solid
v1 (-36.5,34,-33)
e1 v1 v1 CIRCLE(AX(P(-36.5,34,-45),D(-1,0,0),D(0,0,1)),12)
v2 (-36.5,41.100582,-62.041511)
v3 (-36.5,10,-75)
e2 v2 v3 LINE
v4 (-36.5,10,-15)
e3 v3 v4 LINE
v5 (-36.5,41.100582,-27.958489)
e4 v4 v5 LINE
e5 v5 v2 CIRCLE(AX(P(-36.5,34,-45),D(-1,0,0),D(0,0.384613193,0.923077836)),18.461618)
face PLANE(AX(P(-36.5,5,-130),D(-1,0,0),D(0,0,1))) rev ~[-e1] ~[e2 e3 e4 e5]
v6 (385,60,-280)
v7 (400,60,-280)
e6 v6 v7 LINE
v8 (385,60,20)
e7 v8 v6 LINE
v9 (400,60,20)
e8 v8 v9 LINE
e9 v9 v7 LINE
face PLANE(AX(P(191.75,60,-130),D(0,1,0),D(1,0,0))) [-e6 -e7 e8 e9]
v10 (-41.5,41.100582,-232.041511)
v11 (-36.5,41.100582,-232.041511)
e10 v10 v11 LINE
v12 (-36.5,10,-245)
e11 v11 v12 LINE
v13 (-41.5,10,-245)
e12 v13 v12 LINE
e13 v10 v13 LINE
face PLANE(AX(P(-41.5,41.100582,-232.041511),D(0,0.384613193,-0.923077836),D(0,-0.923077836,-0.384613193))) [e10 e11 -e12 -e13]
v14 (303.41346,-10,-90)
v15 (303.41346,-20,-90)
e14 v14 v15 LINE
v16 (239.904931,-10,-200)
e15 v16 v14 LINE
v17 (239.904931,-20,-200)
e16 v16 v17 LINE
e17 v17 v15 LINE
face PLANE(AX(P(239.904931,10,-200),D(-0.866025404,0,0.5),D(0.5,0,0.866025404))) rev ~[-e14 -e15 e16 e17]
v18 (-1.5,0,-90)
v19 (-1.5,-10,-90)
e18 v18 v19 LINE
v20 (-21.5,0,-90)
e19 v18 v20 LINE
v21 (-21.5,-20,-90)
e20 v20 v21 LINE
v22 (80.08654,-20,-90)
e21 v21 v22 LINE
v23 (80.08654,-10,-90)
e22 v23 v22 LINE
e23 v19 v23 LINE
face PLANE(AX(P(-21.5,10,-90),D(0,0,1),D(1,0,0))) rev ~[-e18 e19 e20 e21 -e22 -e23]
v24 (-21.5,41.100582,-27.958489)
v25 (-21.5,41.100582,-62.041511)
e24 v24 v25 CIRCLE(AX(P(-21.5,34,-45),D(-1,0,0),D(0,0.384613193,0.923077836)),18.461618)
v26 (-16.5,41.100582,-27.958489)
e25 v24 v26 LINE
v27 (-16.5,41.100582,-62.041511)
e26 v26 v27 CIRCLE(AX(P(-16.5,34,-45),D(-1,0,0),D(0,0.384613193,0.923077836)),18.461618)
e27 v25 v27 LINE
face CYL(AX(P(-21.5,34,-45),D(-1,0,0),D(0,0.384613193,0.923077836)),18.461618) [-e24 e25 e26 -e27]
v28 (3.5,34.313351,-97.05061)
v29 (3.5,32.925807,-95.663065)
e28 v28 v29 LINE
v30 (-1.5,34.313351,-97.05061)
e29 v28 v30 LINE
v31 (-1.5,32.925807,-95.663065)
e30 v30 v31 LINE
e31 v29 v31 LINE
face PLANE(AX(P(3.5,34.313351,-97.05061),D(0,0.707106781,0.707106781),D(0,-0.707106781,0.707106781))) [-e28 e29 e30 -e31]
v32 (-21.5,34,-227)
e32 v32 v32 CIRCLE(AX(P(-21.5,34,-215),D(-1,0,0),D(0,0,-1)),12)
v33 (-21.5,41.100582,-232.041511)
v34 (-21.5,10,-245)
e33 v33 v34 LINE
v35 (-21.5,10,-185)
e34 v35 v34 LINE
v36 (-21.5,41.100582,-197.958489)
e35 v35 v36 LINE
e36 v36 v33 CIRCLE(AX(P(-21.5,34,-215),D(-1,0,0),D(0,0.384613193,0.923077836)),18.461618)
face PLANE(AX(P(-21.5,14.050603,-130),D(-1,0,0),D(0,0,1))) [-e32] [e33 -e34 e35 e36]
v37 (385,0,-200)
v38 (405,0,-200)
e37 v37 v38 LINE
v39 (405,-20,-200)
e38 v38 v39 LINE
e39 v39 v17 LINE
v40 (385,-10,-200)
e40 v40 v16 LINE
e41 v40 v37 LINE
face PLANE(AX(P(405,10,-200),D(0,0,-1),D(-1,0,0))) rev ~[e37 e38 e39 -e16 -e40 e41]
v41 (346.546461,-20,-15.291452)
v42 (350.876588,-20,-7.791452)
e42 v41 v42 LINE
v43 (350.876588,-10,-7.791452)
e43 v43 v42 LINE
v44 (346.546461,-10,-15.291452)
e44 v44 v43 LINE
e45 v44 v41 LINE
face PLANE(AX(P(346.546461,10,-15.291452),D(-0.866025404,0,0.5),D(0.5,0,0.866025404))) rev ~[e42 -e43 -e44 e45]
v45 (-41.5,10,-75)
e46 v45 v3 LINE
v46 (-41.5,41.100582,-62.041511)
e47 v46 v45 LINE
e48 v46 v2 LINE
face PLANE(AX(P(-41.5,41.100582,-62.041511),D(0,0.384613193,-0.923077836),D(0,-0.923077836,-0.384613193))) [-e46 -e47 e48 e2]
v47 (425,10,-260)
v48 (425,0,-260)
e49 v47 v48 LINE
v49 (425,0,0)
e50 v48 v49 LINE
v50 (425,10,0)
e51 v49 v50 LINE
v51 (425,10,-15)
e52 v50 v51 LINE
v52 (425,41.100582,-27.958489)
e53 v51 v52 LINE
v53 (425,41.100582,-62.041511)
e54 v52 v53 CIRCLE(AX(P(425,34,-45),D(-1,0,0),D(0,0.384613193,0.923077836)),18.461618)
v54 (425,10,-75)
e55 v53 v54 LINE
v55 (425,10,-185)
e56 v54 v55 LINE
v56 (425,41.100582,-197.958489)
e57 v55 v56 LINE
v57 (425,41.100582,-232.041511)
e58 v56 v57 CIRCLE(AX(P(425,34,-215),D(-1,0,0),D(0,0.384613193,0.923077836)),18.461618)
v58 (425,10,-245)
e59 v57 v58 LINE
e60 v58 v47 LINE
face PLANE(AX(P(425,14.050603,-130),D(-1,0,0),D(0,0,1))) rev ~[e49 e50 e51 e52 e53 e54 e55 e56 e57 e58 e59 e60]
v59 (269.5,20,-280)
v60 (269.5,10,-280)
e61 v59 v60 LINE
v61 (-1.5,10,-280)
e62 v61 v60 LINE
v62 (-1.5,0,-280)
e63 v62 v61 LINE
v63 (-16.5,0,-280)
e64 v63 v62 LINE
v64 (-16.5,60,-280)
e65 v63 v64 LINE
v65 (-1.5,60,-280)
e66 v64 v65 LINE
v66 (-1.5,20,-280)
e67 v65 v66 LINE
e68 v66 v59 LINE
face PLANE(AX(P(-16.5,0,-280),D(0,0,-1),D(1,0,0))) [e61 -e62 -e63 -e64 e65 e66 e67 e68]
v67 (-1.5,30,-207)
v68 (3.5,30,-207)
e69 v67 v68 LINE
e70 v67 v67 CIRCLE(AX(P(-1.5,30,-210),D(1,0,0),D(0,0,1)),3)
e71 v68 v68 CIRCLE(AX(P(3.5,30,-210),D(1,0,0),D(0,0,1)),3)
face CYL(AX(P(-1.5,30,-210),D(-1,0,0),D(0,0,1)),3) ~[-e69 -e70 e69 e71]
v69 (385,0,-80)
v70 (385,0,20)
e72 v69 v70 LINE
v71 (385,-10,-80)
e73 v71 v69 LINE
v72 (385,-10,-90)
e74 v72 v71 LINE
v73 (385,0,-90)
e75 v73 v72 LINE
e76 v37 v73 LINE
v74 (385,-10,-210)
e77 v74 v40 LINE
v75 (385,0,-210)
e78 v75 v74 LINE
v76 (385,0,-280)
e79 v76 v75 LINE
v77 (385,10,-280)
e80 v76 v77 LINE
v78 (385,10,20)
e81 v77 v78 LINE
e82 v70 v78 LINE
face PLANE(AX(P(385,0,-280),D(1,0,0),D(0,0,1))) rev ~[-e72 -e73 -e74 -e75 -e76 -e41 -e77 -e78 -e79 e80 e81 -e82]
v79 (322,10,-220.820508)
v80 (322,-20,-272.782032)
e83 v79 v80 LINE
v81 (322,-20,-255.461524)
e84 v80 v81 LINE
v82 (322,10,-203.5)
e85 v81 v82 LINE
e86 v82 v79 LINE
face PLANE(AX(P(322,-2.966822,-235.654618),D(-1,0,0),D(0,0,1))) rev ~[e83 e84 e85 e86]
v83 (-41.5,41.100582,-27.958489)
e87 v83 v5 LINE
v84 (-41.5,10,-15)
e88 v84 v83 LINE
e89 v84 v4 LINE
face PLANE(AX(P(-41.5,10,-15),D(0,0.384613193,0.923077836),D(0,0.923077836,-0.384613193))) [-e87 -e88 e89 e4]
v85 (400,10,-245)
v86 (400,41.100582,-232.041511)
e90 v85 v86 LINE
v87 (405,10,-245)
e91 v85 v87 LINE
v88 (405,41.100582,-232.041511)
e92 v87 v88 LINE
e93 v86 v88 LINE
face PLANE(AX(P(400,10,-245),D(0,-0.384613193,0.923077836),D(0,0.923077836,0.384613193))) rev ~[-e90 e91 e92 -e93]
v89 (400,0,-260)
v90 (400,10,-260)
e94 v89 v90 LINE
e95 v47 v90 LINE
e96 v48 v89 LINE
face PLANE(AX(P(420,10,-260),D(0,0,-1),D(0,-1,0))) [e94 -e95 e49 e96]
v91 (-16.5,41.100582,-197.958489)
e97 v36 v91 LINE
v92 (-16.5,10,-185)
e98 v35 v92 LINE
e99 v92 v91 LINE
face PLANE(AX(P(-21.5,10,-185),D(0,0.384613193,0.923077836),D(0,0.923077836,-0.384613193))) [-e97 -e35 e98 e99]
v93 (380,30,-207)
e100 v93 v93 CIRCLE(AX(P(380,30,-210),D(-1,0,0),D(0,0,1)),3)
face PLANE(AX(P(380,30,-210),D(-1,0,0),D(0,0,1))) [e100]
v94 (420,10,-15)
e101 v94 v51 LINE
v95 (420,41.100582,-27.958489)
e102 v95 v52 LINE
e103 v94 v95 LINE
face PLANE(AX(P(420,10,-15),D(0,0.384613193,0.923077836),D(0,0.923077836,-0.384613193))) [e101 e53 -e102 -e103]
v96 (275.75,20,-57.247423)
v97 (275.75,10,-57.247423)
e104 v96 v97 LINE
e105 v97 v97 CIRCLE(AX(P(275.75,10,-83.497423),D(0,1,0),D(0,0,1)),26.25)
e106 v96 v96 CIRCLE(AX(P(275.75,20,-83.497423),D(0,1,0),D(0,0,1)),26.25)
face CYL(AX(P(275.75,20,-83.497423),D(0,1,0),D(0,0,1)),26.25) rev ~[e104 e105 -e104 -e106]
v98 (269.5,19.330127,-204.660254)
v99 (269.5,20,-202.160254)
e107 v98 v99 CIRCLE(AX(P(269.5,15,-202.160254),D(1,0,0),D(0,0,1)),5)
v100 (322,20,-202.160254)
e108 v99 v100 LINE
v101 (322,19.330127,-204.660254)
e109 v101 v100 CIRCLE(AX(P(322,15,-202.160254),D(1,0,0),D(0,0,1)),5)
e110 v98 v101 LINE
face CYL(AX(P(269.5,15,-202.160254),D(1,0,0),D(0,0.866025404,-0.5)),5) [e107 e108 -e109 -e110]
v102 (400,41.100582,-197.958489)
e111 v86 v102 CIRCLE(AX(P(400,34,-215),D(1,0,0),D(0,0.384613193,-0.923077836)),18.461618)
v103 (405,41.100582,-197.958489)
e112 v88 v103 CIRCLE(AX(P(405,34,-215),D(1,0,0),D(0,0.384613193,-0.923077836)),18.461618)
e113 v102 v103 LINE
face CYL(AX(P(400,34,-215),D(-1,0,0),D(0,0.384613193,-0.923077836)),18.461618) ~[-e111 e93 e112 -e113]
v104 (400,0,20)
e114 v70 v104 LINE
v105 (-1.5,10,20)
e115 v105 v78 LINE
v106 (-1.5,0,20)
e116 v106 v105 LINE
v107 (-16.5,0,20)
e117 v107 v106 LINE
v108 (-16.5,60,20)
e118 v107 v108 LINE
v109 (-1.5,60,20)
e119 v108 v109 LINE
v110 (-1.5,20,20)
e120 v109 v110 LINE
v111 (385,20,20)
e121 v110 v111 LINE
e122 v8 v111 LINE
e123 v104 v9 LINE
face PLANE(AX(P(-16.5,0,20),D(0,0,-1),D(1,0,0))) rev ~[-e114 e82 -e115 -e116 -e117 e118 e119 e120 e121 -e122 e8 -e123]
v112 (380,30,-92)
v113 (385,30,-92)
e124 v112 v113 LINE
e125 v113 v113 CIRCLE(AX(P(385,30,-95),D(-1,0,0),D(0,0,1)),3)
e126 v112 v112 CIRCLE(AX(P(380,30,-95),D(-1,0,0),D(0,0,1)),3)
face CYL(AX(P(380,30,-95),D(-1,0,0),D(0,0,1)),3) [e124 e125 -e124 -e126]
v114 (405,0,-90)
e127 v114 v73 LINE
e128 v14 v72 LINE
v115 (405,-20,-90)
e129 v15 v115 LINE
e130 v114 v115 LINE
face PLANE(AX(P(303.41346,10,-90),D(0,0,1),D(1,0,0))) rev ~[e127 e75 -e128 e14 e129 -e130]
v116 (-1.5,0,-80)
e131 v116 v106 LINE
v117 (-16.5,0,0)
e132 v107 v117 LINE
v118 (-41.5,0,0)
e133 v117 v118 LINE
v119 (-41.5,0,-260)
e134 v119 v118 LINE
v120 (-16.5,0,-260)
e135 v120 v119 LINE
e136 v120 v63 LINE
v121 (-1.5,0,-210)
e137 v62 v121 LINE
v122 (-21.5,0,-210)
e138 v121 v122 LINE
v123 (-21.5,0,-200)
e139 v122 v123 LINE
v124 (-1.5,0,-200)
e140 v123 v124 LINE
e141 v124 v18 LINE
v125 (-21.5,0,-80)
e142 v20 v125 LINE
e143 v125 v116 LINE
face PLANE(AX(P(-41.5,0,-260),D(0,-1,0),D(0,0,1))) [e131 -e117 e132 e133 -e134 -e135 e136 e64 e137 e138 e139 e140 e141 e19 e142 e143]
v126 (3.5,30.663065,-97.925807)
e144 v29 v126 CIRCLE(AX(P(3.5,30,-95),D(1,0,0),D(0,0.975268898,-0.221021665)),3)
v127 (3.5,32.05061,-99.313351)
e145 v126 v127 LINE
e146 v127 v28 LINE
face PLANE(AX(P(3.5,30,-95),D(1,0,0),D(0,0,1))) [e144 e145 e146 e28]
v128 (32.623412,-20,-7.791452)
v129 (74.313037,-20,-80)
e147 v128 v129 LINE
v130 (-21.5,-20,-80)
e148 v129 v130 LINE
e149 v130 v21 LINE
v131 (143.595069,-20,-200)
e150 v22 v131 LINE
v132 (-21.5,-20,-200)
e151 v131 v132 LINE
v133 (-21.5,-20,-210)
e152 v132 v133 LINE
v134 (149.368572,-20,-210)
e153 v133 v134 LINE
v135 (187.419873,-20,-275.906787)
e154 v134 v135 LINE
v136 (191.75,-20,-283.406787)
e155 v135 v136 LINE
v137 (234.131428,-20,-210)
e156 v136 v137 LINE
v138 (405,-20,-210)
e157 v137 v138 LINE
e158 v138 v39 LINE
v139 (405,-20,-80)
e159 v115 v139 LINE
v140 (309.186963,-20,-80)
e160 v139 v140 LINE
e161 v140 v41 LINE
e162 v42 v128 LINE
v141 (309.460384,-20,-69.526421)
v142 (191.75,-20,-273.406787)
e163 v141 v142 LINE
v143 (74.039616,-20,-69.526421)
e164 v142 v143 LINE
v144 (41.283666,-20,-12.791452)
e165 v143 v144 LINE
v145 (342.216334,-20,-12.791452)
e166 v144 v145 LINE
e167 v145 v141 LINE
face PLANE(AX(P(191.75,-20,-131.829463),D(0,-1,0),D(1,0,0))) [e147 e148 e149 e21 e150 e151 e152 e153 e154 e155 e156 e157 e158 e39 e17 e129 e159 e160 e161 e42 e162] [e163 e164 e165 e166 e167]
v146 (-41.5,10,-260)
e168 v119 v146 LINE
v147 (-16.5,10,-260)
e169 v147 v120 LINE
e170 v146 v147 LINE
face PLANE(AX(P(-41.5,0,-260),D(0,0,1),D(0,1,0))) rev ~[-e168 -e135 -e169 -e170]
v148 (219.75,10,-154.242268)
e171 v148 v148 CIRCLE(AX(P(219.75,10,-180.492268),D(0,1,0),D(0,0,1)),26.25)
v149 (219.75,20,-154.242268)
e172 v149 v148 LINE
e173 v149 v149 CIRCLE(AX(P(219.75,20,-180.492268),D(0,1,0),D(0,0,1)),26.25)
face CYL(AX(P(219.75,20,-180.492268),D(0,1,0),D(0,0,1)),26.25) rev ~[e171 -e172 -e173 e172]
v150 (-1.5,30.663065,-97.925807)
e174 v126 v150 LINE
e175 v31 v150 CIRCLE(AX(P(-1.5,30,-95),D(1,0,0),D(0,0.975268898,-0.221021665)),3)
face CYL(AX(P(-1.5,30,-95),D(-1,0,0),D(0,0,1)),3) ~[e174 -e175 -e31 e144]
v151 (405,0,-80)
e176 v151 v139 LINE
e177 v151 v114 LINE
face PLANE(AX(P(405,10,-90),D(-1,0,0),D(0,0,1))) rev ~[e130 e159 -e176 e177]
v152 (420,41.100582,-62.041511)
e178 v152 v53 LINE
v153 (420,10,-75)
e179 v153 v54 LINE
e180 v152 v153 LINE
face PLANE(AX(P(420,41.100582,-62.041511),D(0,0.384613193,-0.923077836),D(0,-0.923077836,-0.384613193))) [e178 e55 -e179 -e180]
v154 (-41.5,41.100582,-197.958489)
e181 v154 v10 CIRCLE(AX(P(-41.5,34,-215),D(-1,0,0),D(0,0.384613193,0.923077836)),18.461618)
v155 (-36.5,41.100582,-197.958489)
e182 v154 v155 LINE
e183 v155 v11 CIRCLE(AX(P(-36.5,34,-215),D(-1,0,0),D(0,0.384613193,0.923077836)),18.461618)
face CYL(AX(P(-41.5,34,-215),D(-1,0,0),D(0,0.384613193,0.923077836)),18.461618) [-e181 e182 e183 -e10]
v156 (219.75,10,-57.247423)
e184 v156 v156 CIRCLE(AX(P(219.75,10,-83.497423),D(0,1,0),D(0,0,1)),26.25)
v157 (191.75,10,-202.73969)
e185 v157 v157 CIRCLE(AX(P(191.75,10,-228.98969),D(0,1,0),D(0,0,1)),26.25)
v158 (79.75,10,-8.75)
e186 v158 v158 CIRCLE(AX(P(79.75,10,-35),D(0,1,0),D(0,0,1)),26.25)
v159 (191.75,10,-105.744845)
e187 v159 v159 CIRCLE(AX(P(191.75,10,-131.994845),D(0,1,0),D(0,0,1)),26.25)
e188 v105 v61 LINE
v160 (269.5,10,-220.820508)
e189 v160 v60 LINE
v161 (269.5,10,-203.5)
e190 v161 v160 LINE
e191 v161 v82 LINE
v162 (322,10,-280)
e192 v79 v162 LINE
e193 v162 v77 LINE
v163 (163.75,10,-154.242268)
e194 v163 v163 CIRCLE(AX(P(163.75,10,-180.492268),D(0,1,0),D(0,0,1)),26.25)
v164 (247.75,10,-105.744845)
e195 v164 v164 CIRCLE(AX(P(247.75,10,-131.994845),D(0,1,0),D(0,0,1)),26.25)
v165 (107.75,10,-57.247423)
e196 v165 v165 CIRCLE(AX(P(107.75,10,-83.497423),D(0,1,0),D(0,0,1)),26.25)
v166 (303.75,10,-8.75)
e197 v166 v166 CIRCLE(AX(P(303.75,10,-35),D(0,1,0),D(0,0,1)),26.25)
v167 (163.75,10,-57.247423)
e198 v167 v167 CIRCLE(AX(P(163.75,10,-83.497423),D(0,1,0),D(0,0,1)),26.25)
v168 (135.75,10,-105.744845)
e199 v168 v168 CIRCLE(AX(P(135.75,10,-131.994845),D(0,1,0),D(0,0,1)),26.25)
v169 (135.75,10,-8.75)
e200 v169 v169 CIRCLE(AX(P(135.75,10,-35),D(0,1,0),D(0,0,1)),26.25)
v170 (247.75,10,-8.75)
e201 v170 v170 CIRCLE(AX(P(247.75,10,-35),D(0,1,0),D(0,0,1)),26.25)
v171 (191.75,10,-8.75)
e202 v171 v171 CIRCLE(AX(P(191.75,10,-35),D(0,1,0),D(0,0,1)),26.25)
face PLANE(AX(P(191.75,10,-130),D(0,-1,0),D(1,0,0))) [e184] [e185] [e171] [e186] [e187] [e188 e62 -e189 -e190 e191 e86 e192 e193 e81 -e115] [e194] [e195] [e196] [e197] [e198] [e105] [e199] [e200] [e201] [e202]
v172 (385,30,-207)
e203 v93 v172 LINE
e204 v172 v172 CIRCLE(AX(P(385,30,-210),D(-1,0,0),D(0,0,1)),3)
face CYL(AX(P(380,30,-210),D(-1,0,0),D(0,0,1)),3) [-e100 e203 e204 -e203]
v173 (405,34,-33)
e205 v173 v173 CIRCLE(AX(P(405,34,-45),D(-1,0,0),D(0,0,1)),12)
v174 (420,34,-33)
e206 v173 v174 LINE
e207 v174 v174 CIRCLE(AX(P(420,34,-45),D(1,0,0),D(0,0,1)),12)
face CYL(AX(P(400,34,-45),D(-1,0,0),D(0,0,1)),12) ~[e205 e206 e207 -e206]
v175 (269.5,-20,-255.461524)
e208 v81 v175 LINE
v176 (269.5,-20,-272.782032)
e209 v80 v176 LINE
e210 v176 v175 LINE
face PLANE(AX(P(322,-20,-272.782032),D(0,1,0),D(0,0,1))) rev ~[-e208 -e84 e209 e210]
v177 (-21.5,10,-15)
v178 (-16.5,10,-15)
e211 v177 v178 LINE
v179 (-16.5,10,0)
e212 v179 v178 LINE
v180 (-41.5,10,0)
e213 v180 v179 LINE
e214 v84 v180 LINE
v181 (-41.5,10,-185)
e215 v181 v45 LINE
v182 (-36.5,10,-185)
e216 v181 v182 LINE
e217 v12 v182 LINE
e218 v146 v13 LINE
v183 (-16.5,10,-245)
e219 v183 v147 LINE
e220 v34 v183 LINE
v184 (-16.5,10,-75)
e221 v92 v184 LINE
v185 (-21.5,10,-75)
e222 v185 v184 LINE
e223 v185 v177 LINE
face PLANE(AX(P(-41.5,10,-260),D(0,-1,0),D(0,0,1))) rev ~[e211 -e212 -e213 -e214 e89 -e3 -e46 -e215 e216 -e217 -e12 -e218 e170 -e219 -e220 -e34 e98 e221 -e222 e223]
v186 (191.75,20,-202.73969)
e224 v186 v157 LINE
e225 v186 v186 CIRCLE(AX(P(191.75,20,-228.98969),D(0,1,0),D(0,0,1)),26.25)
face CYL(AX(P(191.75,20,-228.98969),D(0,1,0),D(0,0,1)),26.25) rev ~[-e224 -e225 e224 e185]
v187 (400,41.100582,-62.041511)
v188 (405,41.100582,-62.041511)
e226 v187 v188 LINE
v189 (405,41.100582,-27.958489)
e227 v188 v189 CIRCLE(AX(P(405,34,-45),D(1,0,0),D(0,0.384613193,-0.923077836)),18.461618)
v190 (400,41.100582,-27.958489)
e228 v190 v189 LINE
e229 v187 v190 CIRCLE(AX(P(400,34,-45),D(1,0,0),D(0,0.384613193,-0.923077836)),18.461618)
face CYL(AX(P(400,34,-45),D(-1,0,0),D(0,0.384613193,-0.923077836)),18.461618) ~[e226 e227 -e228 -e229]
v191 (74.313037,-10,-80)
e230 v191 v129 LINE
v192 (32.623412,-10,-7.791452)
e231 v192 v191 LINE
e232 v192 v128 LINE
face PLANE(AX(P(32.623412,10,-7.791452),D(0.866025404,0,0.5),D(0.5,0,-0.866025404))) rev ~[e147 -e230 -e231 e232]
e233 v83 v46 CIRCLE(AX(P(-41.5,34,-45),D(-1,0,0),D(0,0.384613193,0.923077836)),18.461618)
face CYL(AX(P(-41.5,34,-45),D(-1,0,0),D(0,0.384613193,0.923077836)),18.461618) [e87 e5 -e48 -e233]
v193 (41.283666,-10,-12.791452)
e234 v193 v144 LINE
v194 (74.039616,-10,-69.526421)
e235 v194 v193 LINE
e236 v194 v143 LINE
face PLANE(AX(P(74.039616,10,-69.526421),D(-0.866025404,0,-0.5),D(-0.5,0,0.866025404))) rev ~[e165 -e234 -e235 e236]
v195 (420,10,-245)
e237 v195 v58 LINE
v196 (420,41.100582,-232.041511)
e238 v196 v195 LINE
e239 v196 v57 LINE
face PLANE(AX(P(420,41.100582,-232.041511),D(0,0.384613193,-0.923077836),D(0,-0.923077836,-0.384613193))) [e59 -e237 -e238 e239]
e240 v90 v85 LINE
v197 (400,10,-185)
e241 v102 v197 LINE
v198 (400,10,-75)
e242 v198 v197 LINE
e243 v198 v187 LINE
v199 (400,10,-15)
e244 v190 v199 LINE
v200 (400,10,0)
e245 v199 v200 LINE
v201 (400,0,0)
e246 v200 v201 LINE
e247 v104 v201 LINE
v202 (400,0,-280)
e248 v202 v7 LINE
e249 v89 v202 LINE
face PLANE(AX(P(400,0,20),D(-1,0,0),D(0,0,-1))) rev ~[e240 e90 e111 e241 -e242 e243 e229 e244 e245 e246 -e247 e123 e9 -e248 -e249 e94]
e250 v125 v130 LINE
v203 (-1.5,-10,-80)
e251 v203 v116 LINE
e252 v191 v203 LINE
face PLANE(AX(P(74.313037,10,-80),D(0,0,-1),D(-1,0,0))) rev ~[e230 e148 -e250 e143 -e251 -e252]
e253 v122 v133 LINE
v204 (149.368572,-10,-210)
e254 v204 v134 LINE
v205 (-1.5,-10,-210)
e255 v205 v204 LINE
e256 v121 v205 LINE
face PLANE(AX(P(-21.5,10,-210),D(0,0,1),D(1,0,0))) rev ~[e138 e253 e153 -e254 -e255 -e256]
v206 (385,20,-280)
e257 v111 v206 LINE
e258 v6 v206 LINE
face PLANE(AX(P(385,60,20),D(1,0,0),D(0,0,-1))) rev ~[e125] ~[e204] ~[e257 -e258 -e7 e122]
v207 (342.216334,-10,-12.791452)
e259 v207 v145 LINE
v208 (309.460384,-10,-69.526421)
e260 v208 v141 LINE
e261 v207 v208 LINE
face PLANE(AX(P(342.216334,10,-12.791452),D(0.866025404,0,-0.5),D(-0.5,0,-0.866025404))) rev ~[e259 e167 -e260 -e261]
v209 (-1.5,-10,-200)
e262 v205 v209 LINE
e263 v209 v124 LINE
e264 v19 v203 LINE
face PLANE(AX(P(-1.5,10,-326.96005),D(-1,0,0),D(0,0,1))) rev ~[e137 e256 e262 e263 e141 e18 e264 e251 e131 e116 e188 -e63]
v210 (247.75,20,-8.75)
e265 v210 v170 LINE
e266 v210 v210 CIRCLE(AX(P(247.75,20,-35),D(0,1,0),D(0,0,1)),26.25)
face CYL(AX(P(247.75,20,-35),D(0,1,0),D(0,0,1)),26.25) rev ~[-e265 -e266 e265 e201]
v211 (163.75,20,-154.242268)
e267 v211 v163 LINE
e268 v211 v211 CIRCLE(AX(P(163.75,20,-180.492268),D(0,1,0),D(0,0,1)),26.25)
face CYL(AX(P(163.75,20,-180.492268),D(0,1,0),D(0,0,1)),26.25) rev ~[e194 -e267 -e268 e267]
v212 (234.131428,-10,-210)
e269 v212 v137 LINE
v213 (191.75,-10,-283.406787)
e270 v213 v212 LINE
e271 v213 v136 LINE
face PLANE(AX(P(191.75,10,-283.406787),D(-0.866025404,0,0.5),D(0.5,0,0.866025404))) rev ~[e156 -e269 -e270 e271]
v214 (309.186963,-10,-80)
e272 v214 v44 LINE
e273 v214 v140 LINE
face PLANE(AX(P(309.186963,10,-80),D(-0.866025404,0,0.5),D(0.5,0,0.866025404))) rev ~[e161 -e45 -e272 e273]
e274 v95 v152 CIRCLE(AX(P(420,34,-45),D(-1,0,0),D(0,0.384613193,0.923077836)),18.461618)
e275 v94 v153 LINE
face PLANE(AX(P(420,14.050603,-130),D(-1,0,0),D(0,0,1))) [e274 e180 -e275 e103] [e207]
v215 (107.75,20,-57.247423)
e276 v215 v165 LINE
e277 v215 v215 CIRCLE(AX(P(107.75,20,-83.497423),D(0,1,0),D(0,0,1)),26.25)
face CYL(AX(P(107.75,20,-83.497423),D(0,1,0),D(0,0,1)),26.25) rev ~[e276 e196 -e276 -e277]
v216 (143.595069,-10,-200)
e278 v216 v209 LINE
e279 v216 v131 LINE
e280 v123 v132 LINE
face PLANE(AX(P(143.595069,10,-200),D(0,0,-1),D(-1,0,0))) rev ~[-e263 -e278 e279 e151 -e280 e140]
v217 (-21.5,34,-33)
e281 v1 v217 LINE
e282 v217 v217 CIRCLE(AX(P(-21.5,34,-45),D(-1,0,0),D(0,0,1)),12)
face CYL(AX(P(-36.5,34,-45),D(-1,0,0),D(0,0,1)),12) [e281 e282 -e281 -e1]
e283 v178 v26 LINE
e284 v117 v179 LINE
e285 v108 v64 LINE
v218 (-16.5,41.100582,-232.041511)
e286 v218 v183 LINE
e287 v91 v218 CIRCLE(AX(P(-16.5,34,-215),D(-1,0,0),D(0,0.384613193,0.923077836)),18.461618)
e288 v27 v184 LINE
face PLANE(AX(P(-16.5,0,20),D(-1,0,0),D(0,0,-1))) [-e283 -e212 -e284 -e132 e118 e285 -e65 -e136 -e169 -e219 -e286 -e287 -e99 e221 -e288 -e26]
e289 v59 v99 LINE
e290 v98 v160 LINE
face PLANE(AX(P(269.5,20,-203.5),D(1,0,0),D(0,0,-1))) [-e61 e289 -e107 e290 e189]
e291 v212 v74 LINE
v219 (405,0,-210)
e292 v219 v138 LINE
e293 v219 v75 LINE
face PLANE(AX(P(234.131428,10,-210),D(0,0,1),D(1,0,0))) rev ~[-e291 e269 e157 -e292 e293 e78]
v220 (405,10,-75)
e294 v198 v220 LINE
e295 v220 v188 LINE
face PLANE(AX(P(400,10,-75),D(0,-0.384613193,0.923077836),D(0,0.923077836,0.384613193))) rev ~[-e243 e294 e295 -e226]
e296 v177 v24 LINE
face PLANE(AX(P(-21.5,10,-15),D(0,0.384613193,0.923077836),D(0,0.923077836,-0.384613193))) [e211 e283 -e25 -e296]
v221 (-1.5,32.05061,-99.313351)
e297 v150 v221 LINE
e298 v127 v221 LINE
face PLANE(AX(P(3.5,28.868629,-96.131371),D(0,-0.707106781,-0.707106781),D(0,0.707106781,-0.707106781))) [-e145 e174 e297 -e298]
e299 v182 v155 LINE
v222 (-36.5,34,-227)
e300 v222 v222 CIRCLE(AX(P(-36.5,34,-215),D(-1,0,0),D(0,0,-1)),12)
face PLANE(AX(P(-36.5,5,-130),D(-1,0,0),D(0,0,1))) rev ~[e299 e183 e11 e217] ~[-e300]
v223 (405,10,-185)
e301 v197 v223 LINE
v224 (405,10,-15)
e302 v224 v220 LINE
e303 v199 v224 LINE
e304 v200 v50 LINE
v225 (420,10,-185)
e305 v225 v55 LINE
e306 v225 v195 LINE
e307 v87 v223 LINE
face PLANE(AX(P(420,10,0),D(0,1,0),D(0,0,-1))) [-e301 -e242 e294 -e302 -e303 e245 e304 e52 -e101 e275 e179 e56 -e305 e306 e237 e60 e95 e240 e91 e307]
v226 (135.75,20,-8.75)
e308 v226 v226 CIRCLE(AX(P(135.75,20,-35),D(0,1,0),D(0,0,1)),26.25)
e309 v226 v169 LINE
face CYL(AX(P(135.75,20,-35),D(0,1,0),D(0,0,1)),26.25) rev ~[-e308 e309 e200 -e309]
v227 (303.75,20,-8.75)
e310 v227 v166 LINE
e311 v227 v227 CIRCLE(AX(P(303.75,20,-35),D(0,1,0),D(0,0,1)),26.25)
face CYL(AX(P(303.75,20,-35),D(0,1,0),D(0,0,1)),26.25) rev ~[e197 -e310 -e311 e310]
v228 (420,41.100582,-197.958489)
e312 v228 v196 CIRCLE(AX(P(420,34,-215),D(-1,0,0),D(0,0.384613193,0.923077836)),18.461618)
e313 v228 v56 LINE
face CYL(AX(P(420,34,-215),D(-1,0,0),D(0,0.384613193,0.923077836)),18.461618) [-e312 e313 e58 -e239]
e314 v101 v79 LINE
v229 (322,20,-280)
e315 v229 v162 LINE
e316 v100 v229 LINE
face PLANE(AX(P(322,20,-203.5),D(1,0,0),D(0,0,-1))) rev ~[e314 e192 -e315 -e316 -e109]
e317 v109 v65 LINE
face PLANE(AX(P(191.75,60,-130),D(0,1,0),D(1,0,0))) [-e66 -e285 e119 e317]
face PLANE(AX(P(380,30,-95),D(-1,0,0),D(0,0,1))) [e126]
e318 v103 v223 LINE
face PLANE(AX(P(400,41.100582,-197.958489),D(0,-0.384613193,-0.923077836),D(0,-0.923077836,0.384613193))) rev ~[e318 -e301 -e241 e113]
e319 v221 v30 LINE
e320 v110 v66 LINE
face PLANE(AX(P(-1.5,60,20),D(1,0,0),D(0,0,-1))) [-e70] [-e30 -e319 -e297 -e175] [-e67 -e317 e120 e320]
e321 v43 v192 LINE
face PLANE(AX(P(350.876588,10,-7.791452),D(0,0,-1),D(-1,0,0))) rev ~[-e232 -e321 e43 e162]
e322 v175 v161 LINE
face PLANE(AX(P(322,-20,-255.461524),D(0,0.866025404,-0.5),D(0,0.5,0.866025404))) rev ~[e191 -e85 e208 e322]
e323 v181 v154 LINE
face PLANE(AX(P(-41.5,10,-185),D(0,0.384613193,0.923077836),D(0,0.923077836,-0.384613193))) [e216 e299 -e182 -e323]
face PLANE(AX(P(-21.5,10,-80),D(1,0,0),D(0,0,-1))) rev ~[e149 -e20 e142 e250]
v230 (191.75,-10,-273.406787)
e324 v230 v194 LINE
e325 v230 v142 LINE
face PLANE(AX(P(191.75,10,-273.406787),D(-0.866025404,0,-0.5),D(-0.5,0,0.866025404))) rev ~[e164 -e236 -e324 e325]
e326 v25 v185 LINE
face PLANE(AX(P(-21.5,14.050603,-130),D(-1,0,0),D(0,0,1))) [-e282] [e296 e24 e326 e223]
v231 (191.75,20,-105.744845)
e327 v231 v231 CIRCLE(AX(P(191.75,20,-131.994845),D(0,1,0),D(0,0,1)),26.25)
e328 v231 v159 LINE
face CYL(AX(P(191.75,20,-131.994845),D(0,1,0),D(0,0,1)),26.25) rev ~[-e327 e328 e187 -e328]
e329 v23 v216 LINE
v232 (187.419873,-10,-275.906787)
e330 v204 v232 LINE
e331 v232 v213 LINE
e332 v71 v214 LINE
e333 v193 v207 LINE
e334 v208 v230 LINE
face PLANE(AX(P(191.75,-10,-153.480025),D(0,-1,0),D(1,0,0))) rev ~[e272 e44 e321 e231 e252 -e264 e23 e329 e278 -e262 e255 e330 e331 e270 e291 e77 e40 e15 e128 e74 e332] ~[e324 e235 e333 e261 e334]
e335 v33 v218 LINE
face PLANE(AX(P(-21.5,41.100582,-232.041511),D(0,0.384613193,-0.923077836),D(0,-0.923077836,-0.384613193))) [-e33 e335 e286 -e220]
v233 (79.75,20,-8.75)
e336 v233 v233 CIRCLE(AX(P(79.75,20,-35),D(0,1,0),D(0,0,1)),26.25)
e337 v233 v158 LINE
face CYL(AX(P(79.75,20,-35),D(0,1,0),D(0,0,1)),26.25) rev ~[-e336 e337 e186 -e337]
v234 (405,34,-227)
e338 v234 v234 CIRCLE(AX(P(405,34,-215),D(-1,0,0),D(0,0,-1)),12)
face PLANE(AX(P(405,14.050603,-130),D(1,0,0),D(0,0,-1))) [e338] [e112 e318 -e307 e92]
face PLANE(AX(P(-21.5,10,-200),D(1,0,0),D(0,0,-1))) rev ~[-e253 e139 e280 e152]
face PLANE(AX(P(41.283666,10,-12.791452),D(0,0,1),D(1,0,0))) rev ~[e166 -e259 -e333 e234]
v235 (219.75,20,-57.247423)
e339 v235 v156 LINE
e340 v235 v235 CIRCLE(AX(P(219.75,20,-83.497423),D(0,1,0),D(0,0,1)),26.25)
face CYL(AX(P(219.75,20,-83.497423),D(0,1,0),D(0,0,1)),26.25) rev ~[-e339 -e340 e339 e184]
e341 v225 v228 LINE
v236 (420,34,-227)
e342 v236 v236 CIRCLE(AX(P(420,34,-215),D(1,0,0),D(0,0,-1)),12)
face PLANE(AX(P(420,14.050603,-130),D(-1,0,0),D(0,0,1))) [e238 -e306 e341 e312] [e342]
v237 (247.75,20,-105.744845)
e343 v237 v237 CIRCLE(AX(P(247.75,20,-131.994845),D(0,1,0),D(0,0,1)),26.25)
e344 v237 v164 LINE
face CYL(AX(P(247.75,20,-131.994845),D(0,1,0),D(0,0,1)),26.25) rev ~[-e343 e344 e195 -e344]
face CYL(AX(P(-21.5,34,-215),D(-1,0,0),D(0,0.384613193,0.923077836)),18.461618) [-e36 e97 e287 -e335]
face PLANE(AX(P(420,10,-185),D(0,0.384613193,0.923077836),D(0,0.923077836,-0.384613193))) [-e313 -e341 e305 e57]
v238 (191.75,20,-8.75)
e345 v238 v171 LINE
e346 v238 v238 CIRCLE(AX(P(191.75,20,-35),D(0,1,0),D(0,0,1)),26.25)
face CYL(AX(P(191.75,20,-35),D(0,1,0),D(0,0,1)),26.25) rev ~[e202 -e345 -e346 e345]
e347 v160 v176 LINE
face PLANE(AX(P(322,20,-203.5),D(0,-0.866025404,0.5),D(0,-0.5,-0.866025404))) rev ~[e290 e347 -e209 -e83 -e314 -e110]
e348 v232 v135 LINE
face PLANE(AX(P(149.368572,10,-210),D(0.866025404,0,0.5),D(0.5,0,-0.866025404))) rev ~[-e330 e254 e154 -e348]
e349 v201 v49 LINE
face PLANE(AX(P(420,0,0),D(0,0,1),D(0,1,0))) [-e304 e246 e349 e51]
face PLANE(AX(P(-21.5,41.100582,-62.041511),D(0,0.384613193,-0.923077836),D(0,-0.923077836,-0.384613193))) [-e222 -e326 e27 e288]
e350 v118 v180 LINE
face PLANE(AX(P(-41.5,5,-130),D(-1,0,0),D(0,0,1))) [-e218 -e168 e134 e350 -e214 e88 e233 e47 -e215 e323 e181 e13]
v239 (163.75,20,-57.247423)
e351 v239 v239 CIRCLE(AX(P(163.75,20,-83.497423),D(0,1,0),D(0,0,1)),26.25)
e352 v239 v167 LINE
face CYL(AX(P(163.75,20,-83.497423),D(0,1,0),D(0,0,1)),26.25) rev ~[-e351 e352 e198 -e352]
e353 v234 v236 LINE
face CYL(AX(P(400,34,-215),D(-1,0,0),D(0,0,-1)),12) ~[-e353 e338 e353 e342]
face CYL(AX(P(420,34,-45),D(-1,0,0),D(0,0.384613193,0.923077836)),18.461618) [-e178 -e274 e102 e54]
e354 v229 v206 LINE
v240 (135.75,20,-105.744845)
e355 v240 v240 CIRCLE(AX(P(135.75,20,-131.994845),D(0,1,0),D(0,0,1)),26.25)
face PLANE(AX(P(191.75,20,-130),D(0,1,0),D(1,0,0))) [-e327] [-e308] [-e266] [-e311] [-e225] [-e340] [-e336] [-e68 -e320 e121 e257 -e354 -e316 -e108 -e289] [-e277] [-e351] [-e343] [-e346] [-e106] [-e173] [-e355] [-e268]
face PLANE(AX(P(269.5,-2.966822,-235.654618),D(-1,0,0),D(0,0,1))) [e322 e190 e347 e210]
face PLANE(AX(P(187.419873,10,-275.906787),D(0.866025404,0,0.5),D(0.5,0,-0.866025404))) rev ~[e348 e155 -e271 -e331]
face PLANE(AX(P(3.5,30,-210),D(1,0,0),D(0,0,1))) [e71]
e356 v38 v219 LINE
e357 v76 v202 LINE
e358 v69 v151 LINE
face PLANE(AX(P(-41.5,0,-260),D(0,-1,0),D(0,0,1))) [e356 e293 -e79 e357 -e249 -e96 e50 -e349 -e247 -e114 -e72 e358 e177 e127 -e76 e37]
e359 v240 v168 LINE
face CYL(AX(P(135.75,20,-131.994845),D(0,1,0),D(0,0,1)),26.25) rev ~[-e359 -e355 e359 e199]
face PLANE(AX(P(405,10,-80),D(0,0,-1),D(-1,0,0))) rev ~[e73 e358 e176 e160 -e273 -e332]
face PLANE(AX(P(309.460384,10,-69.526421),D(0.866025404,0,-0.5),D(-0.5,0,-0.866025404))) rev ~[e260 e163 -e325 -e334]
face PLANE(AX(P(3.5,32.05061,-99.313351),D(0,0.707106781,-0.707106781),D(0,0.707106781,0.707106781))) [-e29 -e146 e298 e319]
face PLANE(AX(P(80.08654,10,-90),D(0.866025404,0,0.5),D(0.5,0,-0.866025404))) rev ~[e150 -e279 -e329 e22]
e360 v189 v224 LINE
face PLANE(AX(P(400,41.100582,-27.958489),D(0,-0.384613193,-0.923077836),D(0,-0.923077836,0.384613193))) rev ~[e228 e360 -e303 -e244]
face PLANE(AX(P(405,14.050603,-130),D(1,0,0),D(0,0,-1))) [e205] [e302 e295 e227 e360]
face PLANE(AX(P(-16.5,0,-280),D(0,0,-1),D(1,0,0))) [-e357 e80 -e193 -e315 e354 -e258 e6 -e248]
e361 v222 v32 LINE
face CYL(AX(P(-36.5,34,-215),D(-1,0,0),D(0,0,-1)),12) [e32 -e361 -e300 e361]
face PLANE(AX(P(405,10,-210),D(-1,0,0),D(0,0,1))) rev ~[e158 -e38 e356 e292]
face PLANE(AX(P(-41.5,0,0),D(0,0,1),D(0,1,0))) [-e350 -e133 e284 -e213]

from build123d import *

# Parameters (mm, degrees)
SKETCH_2_W          = 416.5
SKETCH_2_H          = 300
EXTRUDE_1_DEPTH     = 60
EXTRUDE_4_DEPTH     = 5
SKETCH_5_R          = 12
EXTRUDE_3_DEPTH     = 20
SKETCH_8_W          = 260
SKETCH_8_H          = 10
EXTRUDE_5_DEPTH     = 15
EXTRUDE_6_DEPTH     = 5
EXTRUDE_START       = 5
EXTRUDE_8_DEPTH     = 5
EXTRUDE_START_2     = 20
SKETCH_10_R         = 12
EXTRUDE_7_DEPTH     = 20
SKETCH_13_W         = 260
SKETCH_13_H         = 10
EXTRUDE_10_DEPTH    = 15
SKETCH_14_W         = 260
SKETCH_14_H         = 10
EXTRUDE_11_DEPTH    = 5
SKETCH_15_W         = 386.5
SKETCH_15_H         = 300
CUT_EXTRUDE_2_DEPTH = 40
SKETCH_16_R         = 26.25
CUT_EXTRUDE_3_DEPTH = 10
SKETCH_17_W         = 386.5
SKETCH_17_H         = 300
CUT_EXTRUDE_4_DEPTH = 10
EXTRUDE_12_DEPTH    = 30
SKETCH_19_W         = 386.5
SKETCH_19_H         = 346.960050319
CUT_EXTRUDE_5_DEPTH = 20
SKETCH_20_R         = 3
EXTRUDE_13_DEPTH    = 5
SKETCH_22_R         = 3
EXTRUDE_14_DEPTH    = 5
EXTRUDE_15_DEPTH    = 5
SKETCH_24_W         = 52.5
SKETCH_24_H         = 76.5
CUT_EXTRUDE_6_DEPTH = 10
EXTRUDE_16_DEPTH    = 52.5
FILLET_1_R          = 5


with BuildPart() as part:
    # 草图2 → 凸台-拉伸1 (new body)
    with BuildSketch(Plane(origin=(0, 0, 0), x_dir=(1, 0, 0), z_dir=(0, 1, 0))):
        with Locations((191.75, 130)):
            Rectangle(SKETCH_2_W, SKETCH_2_H)
    extrude(amount=EXTRUDE_1_DEPTH)

    # 草图6 → 凸台-拉伸4 (add)
    with BuildSketch(Plane(origin=(400, 0, 0), x_dir=(0, 0, -1), z_dir=(1, 0, 0))):
        with BuildLine():
            Line((15, 10), (0, 10))
            Line((0, 10), (0, 0))
            Line((0, 0), (260, 0))
            Line((260, 0), (260, 10))
            Line((260, 10), (245, 10))
            Line((245, 10), (232.041510818, 41.100582022))
            ThreePointArc((232.041510818, 41.100582022), (215, 52.461618456), (197.958489182, 41.100582022))
            Line((197.958489182, 41.100582022), (185, 10))
            Line((185, 10), (170, 10))
            Line((170, 10), (90, 10))
            Line((90, 10), (75, 10))
            Line((75, 10), (62.041510818, 41.100582022))
            ThreePointArc((62.041510818, 41.100582022), (45, 52.461618456), (27.958489182, 41.100582022))
            Line((27.958489182, 41.100582022), (15, 10))
        make_face()
    extrude(amount=EXTRUDE_4_DEPTH)

    # 草图5 → 凸台-拉伸3 (add)
    with BuildSketch(Plane(origin=(400, 0, 0), x_dir=(0, 0, -1), z_dir=(1, 0, 0))):
        with Locations((215, 34)):
            Circle(SKETCH_5_R)
        with Locations(Location((45, 34, 0), (0, 0, 180))):
            Circle(SKETCH_5_R)
    extrude(amount=EXTRUDE_3_DEPTH)

    # 草图8 → 凸台-拉伸5 (add)
    with BuildSketch(Plane(origin=(405, 0, 0), x_dir=(0, 0, -1), z_dir=(1, 0, 0))):
        with Locations((130, 5)):
            Rectangle(SKETCH_8_W, SKETCH_8_H)
    extrude(amount=EXTRUDE_5_DEPTH)

    # 草图9 → 凸台-拉伸6 (add)
    with BuildSketch(Plane(origin=(420, 0, 0), x_dir=(0, 0, -1), z_dir=(1, 0, 0))):
        with BuildLine():
            Line((15, 10), (27.958489182, 41.100582022))
            ThreePointArc((27.958489182, 41.100582022), (45, 52.461618456), (62.041510818, 41.100582022))
            Line((62.041510818, 41.100582022), (75, 10))
            Line((75, 10), (185, 10))
            Line((185, 10), (197.958489182, 41.100582022))
            ThreePointArc((197.958489182, 41.100582022), (215, 52.461618456), (232.041510818, 41.100582022))
            Line((232.041510818, 41.100582022), (245, 10))
            Line((245, 10), (260, 10))
            Line((260, 10), (260, 0))
            Line((260, 0), (0, 0))
            Line((0, 0), (0, 10))
            Line((0, 10), (15, 10))
        make_face()
    extrude(amount=EXTRUDE_6_DEPTH)

    # 草图11 → 凸台-拉伸8 (add)
    with BuildSketch(Plane.ZY.offset(16.5).offset(EXTRUDE_START)):
        with BuildLine():
            Line((-245, 10), (-260, 10))
            Line((-260, 10), (-260, 0))
            Line((-260, 0), (0, 0))
            Line((0, 0), (0, 10))
            Line((0, 10), (-15, 10))
            Line((-15, 10), (-27.958489182, 41.100582022))
            ThreePointArc((-27.958489182, 41.100582022), (-45, 52.461618456), (-62.041510818, 41.100582022))
            Line((-62.041510818, 41.100582022), (-75, 10))
            Line((-75, 10), (-90, 10))
            Line((-90, 10), (-170, 10))
            Line((-170, 10), (-185, 10))
            Line((-185, 10), (-197.958489182, 41.100582022))
            ThreePointArc((-197.958489182, 41.100582022), (-215, 52.461618456), (-232.041510818, 41.100582022))
            Line((-232.041510818, 41.100582022), (-245, 10))
        make_face()
    extrude(amount=-EXTRUDE_8_DEPTH)

    # 草图10 → 凸台-拉伸7 (add)
    with BuildSketch(Plane.ZY.offset(16.5).offset(EXTRUDE_START_2)):
        with Locations((-45, 34)):
            Circle(SKETCH_10_R)
        with Locations(Location((-215, 34, 0), (0, 0, 180))):
            Circle(SKETCH_10_R)
    extrude(amount=-EXTRUDE_7_DEPTH)

    # 草图13 → 凸台-拉伸10 (add)
    with BuildSketch(Plane.ZY.offset(21.5)):
        with Locations((-130, 5)):
            Rectangle(SKETCH_13_W, SKETCH_13_H)
    extrude(amount=EXTRUDE_10_DEPTH)

    # 草图14 → 凸台-拉伸11 (add)
    with BuildSketch(Plane.ZY.offset(36.5).offset(EXTRUDE_START)):
        with Locations((-130, 5)):
            Rectangle(SKETCH_14_W, SKETCH_14_H)
        with BuildLine():
            Line((-232.041510818, 41.100582022), (-245, 10))
            Line((-245, 10), (-185, 10))
            Line((-185, 10), (-197.958489182, 41.100582022))
            ThreePointArc((-197.958489182, 41.100582022), (-215, 52.461618456), (-232.041510818, 41.100582022))
        make_face()
        with BuildLine():
            Line((-75, 10), (-15, 10))
            Line((-15, 10), (-27.958489182, 41.100582022))
            ThreePointArc((-27.958489182, 41.100582022), (-45, 52.461618456), (-62.041510818, 41.100582022))
            Line((-62.041510818, 41.100582022), (-75, 10))
        make_face()
    extrude(amount=-EXTRUDE_11_DEPTH)

    # 草图15 → 切除-拉伸2 (cut)
    with BuildSketch(Plane(origin=(0, 60, 0), x_dir=(1, 0, 0), z_dir=(0, 1, 0))):
        with Locations((191.75, 130)):
            Rectangle(SKETCH_15_W, SKETCH_15_H)
    extrude(amount=-CUT_EXTRUDE_2_DEPTH, mode=Mode.SUBTRACT)

    # 草图16 → 切除-拉伸3 (cut)
    with BuildSketch(Plane(origin=(0, 20, 0), x_dir=(1, 0, 0), z_dir=(0, 1, 0))):
        with Locations(Location((303.75, 35, 0), (0, 0, 270))):
            Circle(SKETCH_16_R)
        with Locations(Location((247.75, 35, 0), (0, 0, 270))):
            Circle(SKETCH_16_R)
        with Locations(Location((191.75, 35, 0), (0, 0, 270))):
            Circle(SKETCH_16_R)
        with Locations(Location((135.75, 35, 0), (0, 0, 270))):
            Circle(SKETCH_16_R)
        with Locations(Location((79.75, 35, 0), (0, 0, 270))):
            Circle(SKETCH_16_R)
        with Locations(Location((219.75, 83.497422612, 0), (0, 0, 270))):
            Circle(SKETCH_16_R)
        with Locations(Location((275.75, 83.497422612, 0), (0, 0, 270))):
            Circle(SKETCH_16_R)
        with Locations(Location((163.75, 83.497422612, 0), (0, 0, 270))):
            Circle(SKETCH_16_R)
        with Locations(Location((107.75, 83.497422612, 0), (0, 0, 270))):
            Circle(SKETCH_16_R)
        with Locations(Location((191.75, 131.994845224, 0), (0, 0, 270))):
            Circle(SKETCH_16_R)
        with Locations(Location((247.75, 131.994845224, 0), (0, 0, 270))):
            Circle(SKETCH_16_R)
        with Locations(Location((135.75, 131.994845224, 0), (0, 0, 270))):
            Circle(SKETCH_16_R)
        with Locations(Location((163.75, 180.492267836, 0), (0, 0, 270))):
            Circle(SKETCH_16_R)
        with Locations(Location((219.75, 180.492267836, 0), (0, 0, 270))):
            Circle(SKETCH_16_R)
        with Locations(Location((191.75, 228.989690448, 0), (0, 0, 270))):
            Circle(SKETCH_16_R)
    extrude(amount=-CUT_EXTRUDE_3_DEPTH, mode=Mode.SUBTRACT)

    # 草图17 → 切除-拉伸4 (cut)
    with BuildSketch(Plane.XZ):
        with Locations((191.75, -130)):
            Rectangle(SKETCH_17_W, SKETCH_17_H)
    extrude(amount=-CUT_EXTRUDE_4_DEPTH, mode=Mode.SUBTRACT)

    # 草图18 → 凸台-拉伸12 (add)
    with BuildSketch(Plane.XZ.offset(-10)):
        Polygon((385, -200), (239.904930741, -200), (303.413460352, -90), (385, -90), (405, -90), (405, -80), (385, -80), (309.186963044, -80), (346.546460718, -15.291451884), (350.876587737, -7.791451884), (41.283666301, -7.791451884), (32.623412263, -7.791451884), (74.313036956, -80), (-1.5, -80), (-21.5, -80), (-21.5, -90), (-1.5, -90), (80.086539648, -90), (143.595069259, -200), (-1.5, -200), (-21.5, -200), (-21.5, -210), (-1.5, -210), (149.368571951, -210), (187.419872981, -275.906786679), (191.75, -283.406786679), (234.131428049, -210), (385, -210), (405, -210), (405, -200), align=None)
        Polygon((86.75, -12.791451884), (342.216333699, -12.791451884), (309.460384119, -69.526420807), (191.75, -273.406786679), (74.039615881, -69.526420807), (41.283666301, -12.791451884), align=None, mode=Mode.SUBTRACT)
    extrude(amount=EXTRUDE_12_DEPTH)

    # 草图19 → 切除-拉伸5 (cut)
    with BuildSketch(Plane.XZ.offset(-10)):
        with Locations((191.75, -153.48002516)):
            Rectangle(SKETCH_19_W, SKETCH_19_H)
    extrude(amount=CUT_EXTRUDE_5_DEPTH, mode=Mode.SUBTRACT)

    # 草图20 → 凸台-拉伸13 (add)
    with BuildSketch(Plane(origin=(-1.5, 0, 0), x_dir=(0, 0, -1), z_dir=(1, 0, 0))):
        with Locations(Location((95, 30, 0), (0, 0, 180))):
            Circle(SKETCH_20_R)
        with Locations(Location((210, 30, 0), (0, 0, 180))):
            Circle(SKETCH_20_R)
    extrude(amount=EXTRUDE_13_DEPTH)

    # 草图22 → 凸台-拉伸14 (add)
    with BuildSketch(Plane.ZY.offset(-385).offset(EXTRUDE_START)):
        with Locations((-95, 30)):
            Circle(SKETCH_22_R)
        with Locations((-210, 30)):
            Circle(SKETCH_22_R)
    extrude(amount=-EXTRUDE_14_DEPTH)

    # 草图23 → 凸台-拉伸15 (add)
    with BuildSketch(Plane(origin=(3.5, 0, 0), x_dir=(0, 0, -1), z_dir=(1, 0, 0))):
        Polygon((95, 30), (96.13137085, 28.86862915), (99.313351365, 32.050609665), (97.050609665, 34.313351365), (93.86862915, 31.13137085), align=None)
    extrude(amount=-EXTRUDE_15_DEPTH)

    # 草图24 → 切除-拉伸6 (cut)
    with BuildSketch(Plane(origin=(0, 20, 0), x_dir=(1, 0, 0), z_dir=(0, 1, 0))):
        with Locations((295.75, 241.75)):
            Rectangle(SKETCH_24_W, SKETCH_24_H)
    extrude(amount=-CUT_EXTRUDE_6_DEPTH, mode=Mode.SUBTRACT)

    # 草图25 → 凸台-拉伸16 (add)
    with BuildSketch(Plane.ZY.offset(-322)):
        Polygon((-203.5, 20), (-272.782032303, -20), (-255.461524227, -20), (-203.5, 10), align=None)
    extrude(amount=EXTRUDE_16_DEPTH)

    # 圆角1
    fillet_1_edges = [part.edges().sort_by_distance(p)[0] for p in [
        (295.75, 20, -203.5),
    ]]
    fillet(fillet_1_edges, radius=FILLET_1_R)


solid = part.part
